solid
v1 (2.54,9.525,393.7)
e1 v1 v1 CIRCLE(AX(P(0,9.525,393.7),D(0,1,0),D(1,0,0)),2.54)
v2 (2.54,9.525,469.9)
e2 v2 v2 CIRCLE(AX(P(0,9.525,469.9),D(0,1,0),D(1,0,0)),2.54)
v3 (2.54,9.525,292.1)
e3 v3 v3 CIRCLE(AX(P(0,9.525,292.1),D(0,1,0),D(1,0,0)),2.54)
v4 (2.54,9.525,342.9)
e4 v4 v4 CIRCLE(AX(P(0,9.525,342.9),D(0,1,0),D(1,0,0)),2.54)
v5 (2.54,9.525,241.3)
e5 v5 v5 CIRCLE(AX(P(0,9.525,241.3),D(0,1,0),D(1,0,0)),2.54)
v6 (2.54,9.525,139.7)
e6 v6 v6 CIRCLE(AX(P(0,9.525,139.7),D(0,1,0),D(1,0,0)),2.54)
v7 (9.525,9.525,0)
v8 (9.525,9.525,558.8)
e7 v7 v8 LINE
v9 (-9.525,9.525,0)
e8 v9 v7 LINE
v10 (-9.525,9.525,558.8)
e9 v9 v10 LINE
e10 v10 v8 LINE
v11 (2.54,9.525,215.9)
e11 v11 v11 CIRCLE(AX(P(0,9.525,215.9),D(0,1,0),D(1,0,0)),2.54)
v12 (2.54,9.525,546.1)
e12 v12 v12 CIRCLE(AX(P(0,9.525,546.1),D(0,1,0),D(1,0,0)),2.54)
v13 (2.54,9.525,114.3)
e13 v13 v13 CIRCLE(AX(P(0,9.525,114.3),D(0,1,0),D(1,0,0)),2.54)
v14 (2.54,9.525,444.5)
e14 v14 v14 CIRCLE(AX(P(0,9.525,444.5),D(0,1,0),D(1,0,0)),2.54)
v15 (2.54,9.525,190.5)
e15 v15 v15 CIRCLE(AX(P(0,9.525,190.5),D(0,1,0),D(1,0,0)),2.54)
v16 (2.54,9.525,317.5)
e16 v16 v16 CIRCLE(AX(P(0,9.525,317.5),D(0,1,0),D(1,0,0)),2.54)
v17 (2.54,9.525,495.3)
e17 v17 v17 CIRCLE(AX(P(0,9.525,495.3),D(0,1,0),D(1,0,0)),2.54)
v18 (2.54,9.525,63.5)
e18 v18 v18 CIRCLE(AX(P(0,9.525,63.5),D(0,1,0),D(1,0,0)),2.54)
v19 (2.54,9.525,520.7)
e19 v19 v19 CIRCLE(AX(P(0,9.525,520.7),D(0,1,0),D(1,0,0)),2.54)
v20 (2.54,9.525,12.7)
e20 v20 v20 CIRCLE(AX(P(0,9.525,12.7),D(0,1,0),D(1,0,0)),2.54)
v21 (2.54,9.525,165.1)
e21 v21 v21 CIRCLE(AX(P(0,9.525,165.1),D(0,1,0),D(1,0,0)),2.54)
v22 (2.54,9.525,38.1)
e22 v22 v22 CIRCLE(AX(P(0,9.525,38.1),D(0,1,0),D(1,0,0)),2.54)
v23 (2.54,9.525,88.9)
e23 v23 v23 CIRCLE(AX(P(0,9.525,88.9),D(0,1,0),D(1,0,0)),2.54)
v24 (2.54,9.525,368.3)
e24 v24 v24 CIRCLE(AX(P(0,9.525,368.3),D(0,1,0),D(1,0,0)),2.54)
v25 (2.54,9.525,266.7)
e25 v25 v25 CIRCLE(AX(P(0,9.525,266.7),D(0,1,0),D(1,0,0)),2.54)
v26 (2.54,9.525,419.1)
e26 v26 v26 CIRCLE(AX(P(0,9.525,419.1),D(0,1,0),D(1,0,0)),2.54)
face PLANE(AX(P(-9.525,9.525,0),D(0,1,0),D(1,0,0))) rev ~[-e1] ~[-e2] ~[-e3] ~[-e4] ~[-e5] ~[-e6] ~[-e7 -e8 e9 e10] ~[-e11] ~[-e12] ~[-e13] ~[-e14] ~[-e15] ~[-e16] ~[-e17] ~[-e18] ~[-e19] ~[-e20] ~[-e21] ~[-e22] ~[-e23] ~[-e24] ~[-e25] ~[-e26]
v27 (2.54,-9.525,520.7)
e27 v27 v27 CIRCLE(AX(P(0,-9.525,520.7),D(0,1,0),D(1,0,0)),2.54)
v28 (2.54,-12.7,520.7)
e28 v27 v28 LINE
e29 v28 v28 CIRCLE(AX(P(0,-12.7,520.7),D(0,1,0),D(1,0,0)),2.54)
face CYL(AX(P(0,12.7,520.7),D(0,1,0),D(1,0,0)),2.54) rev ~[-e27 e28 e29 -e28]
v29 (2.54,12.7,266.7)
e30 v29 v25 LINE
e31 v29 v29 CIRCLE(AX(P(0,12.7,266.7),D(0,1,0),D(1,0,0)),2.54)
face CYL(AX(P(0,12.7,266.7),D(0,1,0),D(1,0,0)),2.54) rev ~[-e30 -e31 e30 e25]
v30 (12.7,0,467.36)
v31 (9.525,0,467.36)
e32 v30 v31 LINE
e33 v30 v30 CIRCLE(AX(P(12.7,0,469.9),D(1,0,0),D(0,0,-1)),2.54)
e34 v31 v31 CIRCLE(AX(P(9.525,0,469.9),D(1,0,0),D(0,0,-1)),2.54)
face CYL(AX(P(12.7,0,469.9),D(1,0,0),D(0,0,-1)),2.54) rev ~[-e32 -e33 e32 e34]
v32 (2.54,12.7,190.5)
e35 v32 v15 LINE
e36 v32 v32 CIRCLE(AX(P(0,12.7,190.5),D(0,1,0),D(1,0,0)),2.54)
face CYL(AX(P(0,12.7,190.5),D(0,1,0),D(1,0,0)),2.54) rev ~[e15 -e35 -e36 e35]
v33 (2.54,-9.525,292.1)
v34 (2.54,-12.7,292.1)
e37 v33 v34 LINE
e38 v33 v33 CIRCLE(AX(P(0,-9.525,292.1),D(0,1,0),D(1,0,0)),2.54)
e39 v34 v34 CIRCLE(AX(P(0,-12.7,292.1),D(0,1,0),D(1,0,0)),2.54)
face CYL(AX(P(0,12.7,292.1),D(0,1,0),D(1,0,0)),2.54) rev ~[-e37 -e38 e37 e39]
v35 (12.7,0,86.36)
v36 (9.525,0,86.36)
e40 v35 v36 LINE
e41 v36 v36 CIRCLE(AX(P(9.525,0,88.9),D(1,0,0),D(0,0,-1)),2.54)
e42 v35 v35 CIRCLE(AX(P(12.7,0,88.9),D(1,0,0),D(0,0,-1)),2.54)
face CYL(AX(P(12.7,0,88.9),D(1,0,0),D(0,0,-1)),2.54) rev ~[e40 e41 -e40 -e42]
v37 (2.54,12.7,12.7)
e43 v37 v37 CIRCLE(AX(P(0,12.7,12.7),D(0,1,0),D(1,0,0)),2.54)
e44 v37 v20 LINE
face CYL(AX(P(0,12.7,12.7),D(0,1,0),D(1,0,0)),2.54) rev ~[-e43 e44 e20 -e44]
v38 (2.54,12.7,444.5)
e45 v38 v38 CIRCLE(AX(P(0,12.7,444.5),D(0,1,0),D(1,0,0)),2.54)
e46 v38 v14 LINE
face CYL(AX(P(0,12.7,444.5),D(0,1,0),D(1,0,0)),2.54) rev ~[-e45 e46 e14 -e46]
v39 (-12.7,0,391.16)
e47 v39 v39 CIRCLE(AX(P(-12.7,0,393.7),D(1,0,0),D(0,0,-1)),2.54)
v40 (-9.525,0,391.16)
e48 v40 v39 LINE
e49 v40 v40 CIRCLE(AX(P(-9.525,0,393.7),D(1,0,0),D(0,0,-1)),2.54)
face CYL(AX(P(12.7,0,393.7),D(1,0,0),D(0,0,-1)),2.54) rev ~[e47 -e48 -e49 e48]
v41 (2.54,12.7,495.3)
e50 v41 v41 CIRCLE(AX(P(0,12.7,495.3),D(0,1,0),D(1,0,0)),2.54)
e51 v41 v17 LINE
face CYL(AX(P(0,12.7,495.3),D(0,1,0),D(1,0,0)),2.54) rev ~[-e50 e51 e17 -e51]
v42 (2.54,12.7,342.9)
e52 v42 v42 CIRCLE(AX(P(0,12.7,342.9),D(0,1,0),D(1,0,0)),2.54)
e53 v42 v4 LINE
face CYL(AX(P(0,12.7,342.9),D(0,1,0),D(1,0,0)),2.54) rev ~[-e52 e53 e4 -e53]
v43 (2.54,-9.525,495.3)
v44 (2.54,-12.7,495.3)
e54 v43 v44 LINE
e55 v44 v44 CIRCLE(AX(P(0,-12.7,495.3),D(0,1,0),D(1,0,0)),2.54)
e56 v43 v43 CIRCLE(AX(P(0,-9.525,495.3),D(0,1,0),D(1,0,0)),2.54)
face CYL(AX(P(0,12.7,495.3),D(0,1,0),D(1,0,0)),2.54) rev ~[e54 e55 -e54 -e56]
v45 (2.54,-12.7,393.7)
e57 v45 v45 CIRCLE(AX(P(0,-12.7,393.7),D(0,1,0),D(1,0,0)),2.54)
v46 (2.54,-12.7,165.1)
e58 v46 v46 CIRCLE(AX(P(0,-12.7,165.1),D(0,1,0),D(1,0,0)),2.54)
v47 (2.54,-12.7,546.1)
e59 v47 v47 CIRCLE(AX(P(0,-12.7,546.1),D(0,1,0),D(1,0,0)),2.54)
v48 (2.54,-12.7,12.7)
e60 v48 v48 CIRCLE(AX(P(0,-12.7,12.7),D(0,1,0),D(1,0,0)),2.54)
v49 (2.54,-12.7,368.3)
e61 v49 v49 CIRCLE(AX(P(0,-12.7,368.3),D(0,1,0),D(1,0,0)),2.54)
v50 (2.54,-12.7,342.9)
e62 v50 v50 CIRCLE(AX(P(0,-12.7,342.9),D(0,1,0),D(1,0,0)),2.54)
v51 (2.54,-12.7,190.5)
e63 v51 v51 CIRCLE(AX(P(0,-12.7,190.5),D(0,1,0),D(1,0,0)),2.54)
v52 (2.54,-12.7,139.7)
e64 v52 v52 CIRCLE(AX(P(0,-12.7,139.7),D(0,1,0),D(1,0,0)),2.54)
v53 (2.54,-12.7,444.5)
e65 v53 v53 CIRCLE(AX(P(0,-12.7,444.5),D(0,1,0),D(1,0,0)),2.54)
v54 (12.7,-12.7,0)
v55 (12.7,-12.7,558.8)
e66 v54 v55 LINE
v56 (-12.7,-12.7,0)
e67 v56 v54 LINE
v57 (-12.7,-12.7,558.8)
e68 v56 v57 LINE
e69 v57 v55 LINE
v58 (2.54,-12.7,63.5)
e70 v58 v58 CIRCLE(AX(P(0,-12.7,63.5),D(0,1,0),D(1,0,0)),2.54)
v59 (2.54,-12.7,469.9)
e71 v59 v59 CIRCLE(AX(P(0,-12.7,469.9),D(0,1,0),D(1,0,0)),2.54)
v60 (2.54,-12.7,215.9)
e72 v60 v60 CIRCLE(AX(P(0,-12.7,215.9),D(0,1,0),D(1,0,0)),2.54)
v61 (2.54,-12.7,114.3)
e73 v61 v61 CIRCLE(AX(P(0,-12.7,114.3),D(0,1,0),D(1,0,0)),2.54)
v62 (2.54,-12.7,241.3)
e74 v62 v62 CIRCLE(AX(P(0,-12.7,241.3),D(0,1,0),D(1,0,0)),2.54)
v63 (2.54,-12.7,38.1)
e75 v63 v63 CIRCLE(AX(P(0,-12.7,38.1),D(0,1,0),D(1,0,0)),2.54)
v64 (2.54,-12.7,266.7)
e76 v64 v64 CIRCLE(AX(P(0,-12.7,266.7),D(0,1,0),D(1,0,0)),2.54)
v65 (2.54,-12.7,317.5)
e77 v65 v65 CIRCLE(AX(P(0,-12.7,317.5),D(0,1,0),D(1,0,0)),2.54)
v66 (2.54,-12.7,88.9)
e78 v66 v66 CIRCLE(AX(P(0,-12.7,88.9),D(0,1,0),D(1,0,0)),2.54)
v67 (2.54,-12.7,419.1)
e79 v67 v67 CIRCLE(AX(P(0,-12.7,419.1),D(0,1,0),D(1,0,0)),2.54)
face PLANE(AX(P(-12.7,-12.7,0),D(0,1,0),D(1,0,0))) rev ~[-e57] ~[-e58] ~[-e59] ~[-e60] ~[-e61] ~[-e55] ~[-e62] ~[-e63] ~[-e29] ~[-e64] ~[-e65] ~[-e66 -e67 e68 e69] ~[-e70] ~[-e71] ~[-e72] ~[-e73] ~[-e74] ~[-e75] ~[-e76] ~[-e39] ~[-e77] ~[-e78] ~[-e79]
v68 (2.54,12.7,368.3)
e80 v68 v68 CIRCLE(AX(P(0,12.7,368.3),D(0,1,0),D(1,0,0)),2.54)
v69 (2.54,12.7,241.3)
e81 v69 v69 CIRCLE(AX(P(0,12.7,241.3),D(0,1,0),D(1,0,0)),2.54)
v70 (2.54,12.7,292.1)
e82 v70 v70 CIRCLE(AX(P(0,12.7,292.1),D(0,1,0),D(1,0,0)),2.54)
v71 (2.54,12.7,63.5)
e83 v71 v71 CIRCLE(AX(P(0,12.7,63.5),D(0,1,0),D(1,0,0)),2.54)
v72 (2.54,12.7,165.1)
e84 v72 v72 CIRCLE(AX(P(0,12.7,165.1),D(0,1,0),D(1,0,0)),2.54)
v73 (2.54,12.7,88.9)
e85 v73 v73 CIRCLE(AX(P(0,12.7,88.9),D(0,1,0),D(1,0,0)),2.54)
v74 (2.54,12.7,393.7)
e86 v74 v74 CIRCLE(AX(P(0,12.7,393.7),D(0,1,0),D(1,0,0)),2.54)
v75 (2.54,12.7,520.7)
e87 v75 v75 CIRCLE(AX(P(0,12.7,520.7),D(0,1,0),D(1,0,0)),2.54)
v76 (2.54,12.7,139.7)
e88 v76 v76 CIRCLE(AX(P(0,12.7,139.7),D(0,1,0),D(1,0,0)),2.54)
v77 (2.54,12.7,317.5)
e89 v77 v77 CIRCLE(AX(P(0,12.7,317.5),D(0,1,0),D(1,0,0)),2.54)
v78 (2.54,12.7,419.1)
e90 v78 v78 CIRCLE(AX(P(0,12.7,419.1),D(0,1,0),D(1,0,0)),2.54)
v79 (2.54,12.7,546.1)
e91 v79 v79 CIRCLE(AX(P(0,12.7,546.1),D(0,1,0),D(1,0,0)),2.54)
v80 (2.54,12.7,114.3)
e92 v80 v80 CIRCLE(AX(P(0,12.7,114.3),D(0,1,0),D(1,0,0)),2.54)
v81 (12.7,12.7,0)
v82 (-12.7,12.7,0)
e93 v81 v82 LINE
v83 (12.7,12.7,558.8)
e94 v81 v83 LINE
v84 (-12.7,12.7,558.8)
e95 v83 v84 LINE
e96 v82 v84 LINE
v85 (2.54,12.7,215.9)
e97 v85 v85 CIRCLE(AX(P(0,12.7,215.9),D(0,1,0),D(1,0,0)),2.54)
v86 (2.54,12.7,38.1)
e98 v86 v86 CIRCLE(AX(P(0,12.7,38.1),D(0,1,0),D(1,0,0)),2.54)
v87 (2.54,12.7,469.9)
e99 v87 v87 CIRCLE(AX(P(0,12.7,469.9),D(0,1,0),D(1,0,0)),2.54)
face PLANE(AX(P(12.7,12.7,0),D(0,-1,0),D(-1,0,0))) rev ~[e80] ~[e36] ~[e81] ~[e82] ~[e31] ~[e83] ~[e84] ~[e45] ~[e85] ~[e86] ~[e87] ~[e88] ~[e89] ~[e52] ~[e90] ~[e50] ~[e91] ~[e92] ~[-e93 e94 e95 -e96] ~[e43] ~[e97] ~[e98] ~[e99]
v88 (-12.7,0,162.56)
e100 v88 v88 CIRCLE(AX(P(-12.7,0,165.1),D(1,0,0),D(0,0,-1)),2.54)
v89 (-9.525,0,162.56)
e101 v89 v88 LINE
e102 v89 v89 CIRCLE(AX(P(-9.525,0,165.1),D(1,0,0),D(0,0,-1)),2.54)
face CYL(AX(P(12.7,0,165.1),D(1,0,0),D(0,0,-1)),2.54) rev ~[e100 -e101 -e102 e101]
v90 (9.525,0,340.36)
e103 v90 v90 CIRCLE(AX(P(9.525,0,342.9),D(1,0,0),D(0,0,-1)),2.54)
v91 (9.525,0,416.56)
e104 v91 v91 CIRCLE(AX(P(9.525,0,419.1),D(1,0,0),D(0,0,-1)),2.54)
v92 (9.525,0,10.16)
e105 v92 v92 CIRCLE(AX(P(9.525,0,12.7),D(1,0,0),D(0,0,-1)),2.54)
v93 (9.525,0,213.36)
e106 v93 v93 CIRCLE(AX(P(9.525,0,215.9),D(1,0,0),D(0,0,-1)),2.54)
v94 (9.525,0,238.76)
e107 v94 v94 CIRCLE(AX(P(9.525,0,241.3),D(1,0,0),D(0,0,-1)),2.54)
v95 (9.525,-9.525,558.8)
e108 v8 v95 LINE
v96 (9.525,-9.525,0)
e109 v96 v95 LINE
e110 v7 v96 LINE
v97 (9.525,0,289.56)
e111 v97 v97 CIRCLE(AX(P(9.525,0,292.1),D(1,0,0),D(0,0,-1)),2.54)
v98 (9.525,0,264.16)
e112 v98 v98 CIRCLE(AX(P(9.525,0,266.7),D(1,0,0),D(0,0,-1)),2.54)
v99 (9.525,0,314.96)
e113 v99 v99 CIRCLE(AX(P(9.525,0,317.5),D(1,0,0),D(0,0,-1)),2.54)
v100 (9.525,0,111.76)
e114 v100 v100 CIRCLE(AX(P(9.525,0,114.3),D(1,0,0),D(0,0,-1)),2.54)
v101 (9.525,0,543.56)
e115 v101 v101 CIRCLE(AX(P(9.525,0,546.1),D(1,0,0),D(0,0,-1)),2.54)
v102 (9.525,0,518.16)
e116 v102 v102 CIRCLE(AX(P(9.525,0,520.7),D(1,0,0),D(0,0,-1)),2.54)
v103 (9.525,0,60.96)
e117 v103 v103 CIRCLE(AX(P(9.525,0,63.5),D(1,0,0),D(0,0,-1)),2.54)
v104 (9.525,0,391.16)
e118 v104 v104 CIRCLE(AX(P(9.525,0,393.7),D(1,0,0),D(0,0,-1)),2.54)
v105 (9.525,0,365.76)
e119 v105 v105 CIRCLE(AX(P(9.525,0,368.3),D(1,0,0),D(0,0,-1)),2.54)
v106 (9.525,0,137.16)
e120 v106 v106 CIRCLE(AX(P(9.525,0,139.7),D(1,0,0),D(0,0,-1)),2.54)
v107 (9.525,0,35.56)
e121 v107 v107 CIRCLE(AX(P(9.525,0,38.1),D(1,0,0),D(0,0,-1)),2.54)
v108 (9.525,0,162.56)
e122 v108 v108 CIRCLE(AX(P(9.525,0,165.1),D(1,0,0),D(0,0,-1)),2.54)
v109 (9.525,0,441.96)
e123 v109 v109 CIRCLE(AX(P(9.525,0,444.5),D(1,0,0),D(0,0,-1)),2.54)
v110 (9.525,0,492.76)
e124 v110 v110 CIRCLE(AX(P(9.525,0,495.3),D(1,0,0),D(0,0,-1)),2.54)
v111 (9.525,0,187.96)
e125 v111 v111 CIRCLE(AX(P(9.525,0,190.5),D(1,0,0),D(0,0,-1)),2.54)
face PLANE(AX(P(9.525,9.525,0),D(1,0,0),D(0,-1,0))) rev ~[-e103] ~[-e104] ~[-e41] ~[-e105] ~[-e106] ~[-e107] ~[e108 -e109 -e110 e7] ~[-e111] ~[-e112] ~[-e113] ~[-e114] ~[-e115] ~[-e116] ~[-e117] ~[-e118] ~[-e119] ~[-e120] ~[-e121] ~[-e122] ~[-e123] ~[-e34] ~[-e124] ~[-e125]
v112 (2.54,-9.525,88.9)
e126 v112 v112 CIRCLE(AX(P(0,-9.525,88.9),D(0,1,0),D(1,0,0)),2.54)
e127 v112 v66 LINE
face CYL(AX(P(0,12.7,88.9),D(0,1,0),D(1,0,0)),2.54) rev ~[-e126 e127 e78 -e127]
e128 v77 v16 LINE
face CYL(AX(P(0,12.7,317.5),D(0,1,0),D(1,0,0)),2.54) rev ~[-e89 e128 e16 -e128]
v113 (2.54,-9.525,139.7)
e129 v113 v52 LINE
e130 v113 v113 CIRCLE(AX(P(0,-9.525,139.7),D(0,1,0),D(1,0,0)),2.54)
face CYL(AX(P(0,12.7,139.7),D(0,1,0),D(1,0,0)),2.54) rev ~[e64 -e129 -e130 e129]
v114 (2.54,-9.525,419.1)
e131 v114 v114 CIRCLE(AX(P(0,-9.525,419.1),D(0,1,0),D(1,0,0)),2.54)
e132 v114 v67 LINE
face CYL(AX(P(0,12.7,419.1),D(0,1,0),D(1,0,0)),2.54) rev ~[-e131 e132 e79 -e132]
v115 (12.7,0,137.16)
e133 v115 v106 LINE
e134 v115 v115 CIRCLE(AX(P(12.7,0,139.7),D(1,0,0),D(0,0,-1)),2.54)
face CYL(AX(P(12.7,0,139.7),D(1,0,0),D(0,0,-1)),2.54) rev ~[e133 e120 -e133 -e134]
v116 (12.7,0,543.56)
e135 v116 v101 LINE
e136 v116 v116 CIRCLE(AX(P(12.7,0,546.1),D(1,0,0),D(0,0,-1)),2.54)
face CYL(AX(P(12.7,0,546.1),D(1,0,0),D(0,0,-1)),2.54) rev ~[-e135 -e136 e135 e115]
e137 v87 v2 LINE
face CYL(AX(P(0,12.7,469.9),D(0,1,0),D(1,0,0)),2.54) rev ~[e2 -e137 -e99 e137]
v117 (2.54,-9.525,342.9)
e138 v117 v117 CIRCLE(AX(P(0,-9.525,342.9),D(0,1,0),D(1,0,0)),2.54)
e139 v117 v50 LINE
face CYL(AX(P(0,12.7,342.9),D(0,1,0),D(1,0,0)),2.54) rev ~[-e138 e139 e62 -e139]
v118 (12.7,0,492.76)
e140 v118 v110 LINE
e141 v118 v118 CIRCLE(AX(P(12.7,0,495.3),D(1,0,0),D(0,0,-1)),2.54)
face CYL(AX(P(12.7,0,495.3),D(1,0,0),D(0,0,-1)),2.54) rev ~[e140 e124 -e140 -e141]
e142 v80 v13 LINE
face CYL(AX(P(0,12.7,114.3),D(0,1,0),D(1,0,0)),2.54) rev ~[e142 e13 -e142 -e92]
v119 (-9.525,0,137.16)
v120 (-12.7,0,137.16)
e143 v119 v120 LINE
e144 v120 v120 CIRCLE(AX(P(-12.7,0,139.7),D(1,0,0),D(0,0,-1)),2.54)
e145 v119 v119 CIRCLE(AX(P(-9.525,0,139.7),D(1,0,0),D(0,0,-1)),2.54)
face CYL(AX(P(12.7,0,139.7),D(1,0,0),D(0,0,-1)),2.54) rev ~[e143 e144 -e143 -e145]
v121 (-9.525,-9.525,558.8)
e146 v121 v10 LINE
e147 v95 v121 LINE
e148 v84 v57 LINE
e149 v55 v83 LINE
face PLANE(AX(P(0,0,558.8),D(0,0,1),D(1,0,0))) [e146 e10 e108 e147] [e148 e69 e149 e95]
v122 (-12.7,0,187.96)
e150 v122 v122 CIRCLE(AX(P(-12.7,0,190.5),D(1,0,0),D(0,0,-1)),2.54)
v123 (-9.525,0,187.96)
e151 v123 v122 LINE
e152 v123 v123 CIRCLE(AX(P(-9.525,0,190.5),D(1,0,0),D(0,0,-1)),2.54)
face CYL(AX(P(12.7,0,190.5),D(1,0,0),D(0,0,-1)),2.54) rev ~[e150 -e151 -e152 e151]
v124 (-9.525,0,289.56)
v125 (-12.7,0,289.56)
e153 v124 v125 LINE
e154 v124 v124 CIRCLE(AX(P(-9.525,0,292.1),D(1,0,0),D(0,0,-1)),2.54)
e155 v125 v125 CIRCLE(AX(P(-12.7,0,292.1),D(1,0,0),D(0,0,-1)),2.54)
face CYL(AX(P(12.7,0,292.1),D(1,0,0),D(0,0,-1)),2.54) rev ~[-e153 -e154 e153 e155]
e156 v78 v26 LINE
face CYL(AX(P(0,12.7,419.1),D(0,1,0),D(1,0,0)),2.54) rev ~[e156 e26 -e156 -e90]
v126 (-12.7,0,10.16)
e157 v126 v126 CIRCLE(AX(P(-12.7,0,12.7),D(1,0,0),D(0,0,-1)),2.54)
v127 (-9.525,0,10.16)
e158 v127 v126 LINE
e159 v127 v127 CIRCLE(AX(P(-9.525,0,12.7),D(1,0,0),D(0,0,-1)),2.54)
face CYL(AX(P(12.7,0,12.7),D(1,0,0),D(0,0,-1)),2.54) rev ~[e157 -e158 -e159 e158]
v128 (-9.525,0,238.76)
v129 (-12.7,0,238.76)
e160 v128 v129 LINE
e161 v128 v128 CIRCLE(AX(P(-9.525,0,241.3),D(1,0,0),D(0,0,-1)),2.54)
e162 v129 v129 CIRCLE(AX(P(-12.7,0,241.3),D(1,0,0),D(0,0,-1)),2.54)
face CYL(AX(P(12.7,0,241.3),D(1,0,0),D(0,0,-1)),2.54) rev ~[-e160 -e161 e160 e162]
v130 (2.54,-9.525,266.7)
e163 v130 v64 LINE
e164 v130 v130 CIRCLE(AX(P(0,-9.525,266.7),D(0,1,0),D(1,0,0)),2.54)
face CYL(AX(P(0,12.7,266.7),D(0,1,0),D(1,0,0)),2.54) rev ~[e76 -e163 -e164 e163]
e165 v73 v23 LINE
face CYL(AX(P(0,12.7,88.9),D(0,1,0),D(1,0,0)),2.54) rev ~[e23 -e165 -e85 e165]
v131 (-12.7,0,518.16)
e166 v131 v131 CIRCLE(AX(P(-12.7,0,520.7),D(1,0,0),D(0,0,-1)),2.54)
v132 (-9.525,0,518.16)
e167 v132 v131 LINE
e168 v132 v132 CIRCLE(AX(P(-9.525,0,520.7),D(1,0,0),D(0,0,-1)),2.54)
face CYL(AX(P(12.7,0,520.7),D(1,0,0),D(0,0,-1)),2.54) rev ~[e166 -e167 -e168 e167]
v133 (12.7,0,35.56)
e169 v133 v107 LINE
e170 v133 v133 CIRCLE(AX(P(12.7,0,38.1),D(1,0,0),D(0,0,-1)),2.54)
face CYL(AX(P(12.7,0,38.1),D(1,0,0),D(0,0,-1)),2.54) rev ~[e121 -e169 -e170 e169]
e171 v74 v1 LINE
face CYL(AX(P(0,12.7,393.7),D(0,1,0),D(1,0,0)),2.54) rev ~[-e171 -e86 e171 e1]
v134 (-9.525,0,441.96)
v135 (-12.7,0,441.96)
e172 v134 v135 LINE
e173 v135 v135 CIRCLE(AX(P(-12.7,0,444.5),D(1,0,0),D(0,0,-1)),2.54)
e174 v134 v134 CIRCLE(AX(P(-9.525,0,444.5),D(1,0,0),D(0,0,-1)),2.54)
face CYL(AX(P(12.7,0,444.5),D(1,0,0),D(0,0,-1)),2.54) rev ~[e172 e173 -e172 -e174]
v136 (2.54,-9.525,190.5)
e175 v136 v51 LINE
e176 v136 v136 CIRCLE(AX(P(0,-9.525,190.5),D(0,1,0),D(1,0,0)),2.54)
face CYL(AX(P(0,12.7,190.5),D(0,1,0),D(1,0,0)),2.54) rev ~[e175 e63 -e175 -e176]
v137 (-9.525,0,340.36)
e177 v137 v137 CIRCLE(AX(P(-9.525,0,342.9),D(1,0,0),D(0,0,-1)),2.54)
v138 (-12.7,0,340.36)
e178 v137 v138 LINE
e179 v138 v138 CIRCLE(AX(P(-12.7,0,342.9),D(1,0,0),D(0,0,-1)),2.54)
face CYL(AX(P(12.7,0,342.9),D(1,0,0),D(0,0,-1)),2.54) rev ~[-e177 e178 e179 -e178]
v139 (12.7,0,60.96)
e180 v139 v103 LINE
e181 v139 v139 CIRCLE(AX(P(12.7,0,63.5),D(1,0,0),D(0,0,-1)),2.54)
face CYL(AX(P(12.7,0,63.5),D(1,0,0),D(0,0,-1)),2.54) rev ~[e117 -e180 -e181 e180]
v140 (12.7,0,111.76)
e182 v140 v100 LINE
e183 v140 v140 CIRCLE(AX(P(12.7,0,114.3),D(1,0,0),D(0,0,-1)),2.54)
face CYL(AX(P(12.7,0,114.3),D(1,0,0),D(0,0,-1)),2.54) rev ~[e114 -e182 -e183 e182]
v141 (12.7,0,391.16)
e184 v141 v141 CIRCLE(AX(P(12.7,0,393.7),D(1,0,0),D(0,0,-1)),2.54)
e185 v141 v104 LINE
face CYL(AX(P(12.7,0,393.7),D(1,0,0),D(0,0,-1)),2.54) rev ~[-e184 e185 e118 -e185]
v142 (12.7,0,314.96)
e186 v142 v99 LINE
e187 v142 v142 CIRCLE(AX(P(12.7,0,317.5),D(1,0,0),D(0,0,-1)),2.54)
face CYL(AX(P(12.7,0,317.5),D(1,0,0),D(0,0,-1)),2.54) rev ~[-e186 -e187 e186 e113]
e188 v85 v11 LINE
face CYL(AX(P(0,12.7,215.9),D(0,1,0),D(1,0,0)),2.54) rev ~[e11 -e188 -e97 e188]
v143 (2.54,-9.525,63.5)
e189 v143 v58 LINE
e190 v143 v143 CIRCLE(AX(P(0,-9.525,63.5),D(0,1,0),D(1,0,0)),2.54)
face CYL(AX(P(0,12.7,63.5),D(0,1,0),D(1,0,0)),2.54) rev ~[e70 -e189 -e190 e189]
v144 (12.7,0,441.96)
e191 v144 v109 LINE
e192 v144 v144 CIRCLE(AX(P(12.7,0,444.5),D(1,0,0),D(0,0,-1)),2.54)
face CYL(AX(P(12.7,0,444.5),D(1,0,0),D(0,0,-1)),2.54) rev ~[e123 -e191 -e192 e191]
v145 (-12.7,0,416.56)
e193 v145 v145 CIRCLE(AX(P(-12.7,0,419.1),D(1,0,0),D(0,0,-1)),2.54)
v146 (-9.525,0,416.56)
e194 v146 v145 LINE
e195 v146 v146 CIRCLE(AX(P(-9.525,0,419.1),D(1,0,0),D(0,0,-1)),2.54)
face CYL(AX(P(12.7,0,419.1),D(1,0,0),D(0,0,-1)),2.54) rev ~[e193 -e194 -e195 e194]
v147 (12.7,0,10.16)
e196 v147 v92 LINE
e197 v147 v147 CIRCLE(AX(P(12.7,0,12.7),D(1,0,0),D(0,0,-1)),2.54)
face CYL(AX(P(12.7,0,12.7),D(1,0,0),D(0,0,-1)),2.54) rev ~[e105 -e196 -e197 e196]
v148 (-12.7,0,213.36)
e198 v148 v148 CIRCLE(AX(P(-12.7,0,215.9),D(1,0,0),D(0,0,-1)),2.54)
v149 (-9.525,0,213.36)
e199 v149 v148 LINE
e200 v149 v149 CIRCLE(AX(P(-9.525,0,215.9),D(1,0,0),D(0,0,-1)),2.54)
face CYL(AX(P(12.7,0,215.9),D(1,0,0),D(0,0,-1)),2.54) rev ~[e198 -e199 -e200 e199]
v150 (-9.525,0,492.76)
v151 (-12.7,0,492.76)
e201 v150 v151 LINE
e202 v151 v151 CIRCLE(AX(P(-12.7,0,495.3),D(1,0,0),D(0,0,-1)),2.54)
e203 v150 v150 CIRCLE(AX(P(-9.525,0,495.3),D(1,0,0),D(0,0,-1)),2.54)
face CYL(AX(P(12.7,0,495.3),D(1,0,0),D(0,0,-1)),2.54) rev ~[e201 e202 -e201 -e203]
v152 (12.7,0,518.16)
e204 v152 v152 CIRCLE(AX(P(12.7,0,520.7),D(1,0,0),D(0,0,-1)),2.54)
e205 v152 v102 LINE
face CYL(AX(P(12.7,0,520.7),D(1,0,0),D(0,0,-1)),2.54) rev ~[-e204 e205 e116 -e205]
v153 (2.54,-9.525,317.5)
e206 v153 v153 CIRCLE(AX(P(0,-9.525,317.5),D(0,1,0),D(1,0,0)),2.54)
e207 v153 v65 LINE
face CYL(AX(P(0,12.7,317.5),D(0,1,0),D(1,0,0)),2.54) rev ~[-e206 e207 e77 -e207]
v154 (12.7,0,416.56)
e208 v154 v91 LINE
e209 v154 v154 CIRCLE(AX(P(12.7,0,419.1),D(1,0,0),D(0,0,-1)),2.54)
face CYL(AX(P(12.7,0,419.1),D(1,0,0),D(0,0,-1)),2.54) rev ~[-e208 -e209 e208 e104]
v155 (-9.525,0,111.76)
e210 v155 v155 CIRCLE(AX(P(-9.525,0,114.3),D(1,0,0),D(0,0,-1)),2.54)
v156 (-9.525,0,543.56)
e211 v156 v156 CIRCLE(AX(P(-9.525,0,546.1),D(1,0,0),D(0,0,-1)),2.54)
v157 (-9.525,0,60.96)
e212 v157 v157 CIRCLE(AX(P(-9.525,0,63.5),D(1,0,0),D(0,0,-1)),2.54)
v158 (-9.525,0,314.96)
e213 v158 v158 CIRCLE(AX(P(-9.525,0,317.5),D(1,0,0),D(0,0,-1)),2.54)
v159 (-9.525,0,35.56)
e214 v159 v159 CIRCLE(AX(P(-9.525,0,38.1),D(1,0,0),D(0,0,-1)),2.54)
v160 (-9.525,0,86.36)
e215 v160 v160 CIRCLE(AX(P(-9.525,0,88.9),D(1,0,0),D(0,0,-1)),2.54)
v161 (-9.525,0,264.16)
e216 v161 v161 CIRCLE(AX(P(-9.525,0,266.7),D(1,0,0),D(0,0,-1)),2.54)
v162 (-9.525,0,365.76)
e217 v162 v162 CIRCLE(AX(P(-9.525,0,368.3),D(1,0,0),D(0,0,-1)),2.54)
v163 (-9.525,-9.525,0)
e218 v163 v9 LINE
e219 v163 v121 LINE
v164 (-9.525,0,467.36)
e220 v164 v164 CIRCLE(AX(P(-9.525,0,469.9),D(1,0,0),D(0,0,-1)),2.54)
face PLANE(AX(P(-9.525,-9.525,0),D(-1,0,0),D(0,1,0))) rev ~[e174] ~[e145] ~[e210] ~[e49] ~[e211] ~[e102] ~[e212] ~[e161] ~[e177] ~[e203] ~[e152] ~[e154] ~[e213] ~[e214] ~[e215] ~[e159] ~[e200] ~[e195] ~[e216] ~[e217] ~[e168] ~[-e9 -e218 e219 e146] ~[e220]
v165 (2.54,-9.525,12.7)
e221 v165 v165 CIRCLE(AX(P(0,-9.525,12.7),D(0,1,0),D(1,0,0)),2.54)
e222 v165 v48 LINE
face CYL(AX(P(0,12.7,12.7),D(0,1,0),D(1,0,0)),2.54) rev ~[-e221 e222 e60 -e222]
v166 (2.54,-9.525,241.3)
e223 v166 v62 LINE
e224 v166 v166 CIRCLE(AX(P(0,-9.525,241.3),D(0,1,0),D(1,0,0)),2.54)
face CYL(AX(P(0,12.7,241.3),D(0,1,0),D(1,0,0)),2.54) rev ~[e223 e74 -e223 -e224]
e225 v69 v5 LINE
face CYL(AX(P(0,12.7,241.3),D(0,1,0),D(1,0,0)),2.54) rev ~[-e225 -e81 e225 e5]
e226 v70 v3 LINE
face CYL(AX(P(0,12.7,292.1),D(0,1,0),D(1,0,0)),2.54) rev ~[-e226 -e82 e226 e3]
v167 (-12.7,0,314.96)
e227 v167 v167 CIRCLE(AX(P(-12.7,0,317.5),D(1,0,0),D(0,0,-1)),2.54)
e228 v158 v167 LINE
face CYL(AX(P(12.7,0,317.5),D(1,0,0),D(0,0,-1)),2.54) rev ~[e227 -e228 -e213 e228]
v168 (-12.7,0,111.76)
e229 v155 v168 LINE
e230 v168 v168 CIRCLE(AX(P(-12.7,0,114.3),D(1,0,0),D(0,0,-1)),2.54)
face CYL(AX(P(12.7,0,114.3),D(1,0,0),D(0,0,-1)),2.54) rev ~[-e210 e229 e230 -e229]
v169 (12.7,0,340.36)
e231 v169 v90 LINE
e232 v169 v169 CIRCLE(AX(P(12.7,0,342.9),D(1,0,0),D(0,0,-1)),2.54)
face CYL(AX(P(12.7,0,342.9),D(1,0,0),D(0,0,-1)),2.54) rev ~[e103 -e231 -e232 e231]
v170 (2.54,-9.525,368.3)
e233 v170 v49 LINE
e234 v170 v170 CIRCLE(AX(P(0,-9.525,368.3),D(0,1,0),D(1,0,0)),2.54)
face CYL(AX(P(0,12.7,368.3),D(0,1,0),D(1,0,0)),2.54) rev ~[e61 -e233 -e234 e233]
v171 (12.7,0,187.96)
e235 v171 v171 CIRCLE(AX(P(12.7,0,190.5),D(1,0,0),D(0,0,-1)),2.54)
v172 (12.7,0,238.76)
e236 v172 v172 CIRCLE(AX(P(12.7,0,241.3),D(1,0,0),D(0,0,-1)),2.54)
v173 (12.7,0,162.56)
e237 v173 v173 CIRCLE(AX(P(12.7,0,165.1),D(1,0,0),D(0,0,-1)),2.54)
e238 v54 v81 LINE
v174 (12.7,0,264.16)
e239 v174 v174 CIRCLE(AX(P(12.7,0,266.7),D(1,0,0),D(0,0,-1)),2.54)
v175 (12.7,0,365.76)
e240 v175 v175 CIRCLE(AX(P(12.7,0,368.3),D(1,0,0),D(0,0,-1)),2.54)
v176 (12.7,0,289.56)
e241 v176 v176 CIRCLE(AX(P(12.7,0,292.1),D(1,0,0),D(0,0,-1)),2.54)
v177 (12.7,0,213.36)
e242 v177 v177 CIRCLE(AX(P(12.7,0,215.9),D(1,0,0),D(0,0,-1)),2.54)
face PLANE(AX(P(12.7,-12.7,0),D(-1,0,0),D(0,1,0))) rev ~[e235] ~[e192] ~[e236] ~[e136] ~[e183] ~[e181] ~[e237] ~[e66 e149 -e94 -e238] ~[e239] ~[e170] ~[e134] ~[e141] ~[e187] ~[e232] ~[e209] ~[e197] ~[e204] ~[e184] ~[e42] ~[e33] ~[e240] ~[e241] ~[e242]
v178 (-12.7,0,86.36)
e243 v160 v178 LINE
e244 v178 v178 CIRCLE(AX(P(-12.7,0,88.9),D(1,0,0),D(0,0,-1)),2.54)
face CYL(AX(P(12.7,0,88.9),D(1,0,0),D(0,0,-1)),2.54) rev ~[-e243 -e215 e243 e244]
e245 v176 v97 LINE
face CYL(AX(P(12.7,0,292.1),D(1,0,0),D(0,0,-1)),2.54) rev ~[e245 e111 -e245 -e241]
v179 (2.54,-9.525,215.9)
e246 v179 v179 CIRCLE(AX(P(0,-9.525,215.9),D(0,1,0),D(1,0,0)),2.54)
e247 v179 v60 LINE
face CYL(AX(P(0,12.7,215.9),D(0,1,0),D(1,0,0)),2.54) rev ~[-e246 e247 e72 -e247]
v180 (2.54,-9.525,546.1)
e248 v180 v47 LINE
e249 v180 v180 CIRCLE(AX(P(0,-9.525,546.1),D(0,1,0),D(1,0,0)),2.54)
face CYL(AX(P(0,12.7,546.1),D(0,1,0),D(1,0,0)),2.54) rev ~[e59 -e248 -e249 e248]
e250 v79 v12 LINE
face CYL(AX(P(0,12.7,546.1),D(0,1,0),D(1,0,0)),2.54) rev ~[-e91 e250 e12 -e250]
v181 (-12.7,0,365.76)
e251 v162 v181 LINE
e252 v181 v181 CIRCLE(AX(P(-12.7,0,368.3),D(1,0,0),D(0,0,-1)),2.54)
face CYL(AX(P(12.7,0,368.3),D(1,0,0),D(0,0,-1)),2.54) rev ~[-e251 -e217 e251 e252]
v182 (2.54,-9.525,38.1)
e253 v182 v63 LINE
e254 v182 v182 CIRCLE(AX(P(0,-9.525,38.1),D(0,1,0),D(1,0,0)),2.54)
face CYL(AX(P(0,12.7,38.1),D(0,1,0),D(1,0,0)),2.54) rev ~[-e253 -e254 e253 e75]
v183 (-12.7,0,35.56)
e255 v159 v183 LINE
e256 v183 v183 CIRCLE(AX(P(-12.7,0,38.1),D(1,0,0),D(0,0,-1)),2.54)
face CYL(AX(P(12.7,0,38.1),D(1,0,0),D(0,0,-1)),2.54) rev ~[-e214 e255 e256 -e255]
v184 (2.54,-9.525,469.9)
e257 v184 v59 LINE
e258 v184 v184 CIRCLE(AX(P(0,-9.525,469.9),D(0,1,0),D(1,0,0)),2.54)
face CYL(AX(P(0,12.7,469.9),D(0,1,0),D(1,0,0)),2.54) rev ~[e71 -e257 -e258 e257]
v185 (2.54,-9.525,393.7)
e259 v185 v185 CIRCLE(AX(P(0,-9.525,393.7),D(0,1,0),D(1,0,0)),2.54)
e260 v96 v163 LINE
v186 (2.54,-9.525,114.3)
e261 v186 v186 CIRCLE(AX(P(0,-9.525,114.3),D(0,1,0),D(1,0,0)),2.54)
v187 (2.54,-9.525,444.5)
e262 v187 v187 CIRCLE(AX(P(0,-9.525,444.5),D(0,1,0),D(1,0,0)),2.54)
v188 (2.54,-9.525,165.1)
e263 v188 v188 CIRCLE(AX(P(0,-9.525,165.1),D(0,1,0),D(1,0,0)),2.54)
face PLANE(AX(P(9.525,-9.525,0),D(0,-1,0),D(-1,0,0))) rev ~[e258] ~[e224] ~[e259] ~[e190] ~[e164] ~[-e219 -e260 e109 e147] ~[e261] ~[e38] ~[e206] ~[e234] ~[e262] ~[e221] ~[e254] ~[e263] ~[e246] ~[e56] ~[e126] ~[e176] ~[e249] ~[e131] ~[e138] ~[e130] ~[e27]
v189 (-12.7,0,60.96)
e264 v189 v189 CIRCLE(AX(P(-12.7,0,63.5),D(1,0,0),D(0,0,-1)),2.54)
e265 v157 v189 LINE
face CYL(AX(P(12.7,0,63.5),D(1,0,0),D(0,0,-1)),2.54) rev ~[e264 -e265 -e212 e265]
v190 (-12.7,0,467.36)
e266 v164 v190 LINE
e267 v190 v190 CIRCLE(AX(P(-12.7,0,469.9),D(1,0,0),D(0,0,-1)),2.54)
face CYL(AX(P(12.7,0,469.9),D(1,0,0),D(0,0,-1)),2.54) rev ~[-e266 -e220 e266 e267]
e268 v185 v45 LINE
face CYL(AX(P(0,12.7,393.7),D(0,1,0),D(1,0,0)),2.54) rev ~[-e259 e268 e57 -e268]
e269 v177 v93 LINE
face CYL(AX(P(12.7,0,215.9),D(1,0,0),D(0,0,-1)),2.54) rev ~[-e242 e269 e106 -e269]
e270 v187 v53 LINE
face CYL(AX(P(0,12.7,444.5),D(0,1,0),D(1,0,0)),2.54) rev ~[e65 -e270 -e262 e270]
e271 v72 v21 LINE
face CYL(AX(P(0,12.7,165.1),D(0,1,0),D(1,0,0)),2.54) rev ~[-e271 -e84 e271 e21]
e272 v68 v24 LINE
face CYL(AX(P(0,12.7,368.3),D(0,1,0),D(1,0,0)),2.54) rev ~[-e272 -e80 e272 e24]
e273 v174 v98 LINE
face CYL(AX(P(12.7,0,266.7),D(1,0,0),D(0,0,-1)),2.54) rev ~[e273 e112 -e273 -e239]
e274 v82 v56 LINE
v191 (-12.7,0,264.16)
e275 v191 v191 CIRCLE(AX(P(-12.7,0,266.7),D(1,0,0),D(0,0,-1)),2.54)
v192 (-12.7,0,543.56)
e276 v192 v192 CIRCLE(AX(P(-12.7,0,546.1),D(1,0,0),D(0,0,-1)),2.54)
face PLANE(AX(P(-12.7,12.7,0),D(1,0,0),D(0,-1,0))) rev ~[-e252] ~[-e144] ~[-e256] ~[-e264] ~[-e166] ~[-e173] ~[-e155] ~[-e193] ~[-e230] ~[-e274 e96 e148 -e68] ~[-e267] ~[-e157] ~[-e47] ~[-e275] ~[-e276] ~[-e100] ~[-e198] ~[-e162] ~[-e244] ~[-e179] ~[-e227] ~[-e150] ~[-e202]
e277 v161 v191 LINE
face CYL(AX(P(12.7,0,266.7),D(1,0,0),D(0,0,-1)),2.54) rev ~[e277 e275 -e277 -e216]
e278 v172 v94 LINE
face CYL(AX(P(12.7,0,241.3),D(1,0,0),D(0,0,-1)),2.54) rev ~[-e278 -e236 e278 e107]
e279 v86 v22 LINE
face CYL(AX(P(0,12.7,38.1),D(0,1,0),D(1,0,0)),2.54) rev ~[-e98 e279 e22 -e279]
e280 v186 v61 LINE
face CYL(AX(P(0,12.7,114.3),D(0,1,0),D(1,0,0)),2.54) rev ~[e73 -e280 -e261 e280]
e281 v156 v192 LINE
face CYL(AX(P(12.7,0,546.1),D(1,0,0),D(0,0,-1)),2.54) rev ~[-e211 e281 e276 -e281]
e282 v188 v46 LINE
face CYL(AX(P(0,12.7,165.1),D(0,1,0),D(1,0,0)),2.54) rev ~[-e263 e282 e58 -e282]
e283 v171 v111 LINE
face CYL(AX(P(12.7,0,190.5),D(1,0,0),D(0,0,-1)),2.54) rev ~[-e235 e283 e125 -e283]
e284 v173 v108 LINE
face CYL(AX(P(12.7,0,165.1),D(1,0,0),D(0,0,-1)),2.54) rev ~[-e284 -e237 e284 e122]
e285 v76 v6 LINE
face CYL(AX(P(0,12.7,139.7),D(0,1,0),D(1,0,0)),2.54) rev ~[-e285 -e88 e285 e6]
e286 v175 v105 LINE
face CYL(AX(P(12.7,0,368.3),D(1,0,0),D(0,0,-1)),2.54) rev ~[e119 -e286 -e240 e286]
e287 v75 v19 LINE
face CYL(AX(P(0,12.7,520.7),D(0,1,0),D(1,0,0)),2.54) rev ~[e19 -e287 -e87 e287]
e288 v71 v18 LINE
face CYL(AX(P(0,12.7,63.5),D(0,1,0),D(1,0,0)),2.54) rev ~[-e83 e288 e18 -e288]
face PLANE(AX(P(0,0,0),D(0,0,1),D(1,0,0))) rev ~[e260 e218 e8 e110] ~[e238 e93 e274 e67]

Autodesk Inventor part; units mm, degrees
ref_plane "YZ Plane" through (0, 0, 0) normal (1, 0, 0) x (0, 1, 0)
ref_plane "XZ Plane" through (0, 0, 0) normal (0, 1, 0) x (-1, 0, 0)
ref_plane "XY Plane" through (0, 0, 0) normal (0, 0, 1) x (1, 0, 0)
sketch "Sketch1" plane through (0, 0, 0) normal (0, 0, 1) x (1, 0, 0)
  line L0 (-12.7, -12.7) -> (12.7, -12.7)
  line L1 (12.7, -12.7) -> (12.7, 12.7)
  line L2 (12.7, 12.7) -> (-12.7, 12.7)
  line L3 (-12.7, 12.7) -> (-12.7, -12.7)
  line L4 (-12.7, -12.7) -> (12.7, 12.7) construction
  line L5 (12.7, -12.7) -> (-12.7, 12.7) construction
  line L6 (-9.525, 9.525) -> (9.525, 9.525)
  line L7 (9.525, 9.525) -> (9.525, -9.525)
  line L8 (9.525, -9.525) -> (-9.525, -9.525)
  line L9 (-9.525, -9.525) -> (-9.525, 9.525)
  point P0 (0, 0)
  dimension "d0" = 25.4
  dimension "d1" = 25.4
  dimension "d2" = 3.175
extrude "Extrusion1" add sketch "Sketch1" along normal blind 558.8
sketch "Sketch2" plane through (-12.7, 12.7, 0) normal (0, 1, 0) x (1, 0, 0)
  circle A0 centre (12.7, -12.7) radius 2.54
  line L0 (0, 0) -> (0, -558.8) projected
  line L1 (25.4, 0) -> (0, 0) projected
  circle A1 centre (12.7, -38.1) radius 2.54
  circle A2 centre (12.7, -63.5) radius 2.54
  circle A3 centre (12.7, -88.9) radius 2.54
  circle A4 centre (12.7, -114.3) radius 2.54
  circle A5 centre (12.7, -139.7) radius 2.54
  circle A6 centre (12.7, -165.1) radius 2.54
  circle A7 centre (12.7, -190.5) radius 2.54
  circle A8 centre (12.7, -215.9) radius 2.54
  circle A9 centre (12.7, -241.3) radius 2.54
  circle A10 centre (12.7, -266.7) radius 2.54
  circle A11 centre (12.7, -292.1) radius 2.54
  circle A12 centre (12.7, -317.5) radius 2.54
  circle A13 centre (12.7, -342.9) radius 2.54
  circle A14 centre (12.7, -368.3) radius 2.54
  circle A15 centre (12.7, -393.7) radius 2.54
  circle A16 centre (12.7, -419.1) radius 2.54
  circle A17 centre (12.7, -444.5) radius 2.54
  circle A18 centre (12.7, -469.9) radius 2.54
  circle A19 centre (12.7, -495.3) radius 2.54
  circle A20 centre (12.7, -520.7) radius 2.54
  circle A21 centre (12.7, -546.1) radius 2.54
  point P0 (12.7, 0)
  dimension "d5" = 12.7
  dimension "d6" = 12.7
  dimension "d7" = 5.08
  dimension "d10" = 25.4
extrude "Extrusion2" cut sketch "Sketch2" against normal through all
sketch "Sketch3" plane through (12.7, -12.7, 0) normal (1, 0, 0) x (0, 0, -1)
  circle A0 centre (-12.7, 12.7) radius 2.54
  line L0 (0, 0) -> (-558.8, 0) projected
  line L1 (0, 0) -> (0, 25.4) projected
  circle A1 centre (-38.1, 12.7) radius 2.54
  circle A2 centre (-63.5, 12.7) radius 2.54
  circle A3 centre (-88.9, 12.7) radius 2.54
  circle A4 centre (-114.3, 12.7) radius 2.54
  circle A5 centre (-139.7, 12.7) radius 2.54
  circle A6 centre (-165.1, 12.7) radius 2.54
  circle A7 centre (-190.5, 12.7) radius 2.54
  circle A8 centre (-215.9, 12.7) radius 2.54
  circle A9 centre (-241.3, 12.7) radius 2.54
  circle A10 centre (-266.7, 12.7) radius 2.54
  circle A11 centre (-292.1, 12.7) radius 2.54
  circle A12 centre (-317.5, 12.7) radius 2.54
  circle A13 centre (-342.9, 12.7) radius 2.54
  circle A14 centre (-368.3, 12.7) radius 2.54
  circle A15 centre (-393.7, 12.7) radius 2.54
  circle A16 centre (-419.1, 12.7) radius 2.54
  circle A17 centre (-444.5, 12.7) radius 2.54
  circle A18 centre (-469.9, 12.7) radius 2.54
  circle A19 centre (-495.3, 12.7) radius 2.54
  circle A20 centre (-520.7, 12.7) radius 2.54
  circle A21 centre (-546.1, 12.7) radius 2.54
  point P0 (0, 12.7)
  dimension "d17" = 12.7
  dimension "d18" = 12.7
  dimension "d19" = 5.08
  dimension "d22" = 25.4
extrude "Extrusion3" cut sketch "Sketch3" against normal through all
properties part number "1x1x18"
